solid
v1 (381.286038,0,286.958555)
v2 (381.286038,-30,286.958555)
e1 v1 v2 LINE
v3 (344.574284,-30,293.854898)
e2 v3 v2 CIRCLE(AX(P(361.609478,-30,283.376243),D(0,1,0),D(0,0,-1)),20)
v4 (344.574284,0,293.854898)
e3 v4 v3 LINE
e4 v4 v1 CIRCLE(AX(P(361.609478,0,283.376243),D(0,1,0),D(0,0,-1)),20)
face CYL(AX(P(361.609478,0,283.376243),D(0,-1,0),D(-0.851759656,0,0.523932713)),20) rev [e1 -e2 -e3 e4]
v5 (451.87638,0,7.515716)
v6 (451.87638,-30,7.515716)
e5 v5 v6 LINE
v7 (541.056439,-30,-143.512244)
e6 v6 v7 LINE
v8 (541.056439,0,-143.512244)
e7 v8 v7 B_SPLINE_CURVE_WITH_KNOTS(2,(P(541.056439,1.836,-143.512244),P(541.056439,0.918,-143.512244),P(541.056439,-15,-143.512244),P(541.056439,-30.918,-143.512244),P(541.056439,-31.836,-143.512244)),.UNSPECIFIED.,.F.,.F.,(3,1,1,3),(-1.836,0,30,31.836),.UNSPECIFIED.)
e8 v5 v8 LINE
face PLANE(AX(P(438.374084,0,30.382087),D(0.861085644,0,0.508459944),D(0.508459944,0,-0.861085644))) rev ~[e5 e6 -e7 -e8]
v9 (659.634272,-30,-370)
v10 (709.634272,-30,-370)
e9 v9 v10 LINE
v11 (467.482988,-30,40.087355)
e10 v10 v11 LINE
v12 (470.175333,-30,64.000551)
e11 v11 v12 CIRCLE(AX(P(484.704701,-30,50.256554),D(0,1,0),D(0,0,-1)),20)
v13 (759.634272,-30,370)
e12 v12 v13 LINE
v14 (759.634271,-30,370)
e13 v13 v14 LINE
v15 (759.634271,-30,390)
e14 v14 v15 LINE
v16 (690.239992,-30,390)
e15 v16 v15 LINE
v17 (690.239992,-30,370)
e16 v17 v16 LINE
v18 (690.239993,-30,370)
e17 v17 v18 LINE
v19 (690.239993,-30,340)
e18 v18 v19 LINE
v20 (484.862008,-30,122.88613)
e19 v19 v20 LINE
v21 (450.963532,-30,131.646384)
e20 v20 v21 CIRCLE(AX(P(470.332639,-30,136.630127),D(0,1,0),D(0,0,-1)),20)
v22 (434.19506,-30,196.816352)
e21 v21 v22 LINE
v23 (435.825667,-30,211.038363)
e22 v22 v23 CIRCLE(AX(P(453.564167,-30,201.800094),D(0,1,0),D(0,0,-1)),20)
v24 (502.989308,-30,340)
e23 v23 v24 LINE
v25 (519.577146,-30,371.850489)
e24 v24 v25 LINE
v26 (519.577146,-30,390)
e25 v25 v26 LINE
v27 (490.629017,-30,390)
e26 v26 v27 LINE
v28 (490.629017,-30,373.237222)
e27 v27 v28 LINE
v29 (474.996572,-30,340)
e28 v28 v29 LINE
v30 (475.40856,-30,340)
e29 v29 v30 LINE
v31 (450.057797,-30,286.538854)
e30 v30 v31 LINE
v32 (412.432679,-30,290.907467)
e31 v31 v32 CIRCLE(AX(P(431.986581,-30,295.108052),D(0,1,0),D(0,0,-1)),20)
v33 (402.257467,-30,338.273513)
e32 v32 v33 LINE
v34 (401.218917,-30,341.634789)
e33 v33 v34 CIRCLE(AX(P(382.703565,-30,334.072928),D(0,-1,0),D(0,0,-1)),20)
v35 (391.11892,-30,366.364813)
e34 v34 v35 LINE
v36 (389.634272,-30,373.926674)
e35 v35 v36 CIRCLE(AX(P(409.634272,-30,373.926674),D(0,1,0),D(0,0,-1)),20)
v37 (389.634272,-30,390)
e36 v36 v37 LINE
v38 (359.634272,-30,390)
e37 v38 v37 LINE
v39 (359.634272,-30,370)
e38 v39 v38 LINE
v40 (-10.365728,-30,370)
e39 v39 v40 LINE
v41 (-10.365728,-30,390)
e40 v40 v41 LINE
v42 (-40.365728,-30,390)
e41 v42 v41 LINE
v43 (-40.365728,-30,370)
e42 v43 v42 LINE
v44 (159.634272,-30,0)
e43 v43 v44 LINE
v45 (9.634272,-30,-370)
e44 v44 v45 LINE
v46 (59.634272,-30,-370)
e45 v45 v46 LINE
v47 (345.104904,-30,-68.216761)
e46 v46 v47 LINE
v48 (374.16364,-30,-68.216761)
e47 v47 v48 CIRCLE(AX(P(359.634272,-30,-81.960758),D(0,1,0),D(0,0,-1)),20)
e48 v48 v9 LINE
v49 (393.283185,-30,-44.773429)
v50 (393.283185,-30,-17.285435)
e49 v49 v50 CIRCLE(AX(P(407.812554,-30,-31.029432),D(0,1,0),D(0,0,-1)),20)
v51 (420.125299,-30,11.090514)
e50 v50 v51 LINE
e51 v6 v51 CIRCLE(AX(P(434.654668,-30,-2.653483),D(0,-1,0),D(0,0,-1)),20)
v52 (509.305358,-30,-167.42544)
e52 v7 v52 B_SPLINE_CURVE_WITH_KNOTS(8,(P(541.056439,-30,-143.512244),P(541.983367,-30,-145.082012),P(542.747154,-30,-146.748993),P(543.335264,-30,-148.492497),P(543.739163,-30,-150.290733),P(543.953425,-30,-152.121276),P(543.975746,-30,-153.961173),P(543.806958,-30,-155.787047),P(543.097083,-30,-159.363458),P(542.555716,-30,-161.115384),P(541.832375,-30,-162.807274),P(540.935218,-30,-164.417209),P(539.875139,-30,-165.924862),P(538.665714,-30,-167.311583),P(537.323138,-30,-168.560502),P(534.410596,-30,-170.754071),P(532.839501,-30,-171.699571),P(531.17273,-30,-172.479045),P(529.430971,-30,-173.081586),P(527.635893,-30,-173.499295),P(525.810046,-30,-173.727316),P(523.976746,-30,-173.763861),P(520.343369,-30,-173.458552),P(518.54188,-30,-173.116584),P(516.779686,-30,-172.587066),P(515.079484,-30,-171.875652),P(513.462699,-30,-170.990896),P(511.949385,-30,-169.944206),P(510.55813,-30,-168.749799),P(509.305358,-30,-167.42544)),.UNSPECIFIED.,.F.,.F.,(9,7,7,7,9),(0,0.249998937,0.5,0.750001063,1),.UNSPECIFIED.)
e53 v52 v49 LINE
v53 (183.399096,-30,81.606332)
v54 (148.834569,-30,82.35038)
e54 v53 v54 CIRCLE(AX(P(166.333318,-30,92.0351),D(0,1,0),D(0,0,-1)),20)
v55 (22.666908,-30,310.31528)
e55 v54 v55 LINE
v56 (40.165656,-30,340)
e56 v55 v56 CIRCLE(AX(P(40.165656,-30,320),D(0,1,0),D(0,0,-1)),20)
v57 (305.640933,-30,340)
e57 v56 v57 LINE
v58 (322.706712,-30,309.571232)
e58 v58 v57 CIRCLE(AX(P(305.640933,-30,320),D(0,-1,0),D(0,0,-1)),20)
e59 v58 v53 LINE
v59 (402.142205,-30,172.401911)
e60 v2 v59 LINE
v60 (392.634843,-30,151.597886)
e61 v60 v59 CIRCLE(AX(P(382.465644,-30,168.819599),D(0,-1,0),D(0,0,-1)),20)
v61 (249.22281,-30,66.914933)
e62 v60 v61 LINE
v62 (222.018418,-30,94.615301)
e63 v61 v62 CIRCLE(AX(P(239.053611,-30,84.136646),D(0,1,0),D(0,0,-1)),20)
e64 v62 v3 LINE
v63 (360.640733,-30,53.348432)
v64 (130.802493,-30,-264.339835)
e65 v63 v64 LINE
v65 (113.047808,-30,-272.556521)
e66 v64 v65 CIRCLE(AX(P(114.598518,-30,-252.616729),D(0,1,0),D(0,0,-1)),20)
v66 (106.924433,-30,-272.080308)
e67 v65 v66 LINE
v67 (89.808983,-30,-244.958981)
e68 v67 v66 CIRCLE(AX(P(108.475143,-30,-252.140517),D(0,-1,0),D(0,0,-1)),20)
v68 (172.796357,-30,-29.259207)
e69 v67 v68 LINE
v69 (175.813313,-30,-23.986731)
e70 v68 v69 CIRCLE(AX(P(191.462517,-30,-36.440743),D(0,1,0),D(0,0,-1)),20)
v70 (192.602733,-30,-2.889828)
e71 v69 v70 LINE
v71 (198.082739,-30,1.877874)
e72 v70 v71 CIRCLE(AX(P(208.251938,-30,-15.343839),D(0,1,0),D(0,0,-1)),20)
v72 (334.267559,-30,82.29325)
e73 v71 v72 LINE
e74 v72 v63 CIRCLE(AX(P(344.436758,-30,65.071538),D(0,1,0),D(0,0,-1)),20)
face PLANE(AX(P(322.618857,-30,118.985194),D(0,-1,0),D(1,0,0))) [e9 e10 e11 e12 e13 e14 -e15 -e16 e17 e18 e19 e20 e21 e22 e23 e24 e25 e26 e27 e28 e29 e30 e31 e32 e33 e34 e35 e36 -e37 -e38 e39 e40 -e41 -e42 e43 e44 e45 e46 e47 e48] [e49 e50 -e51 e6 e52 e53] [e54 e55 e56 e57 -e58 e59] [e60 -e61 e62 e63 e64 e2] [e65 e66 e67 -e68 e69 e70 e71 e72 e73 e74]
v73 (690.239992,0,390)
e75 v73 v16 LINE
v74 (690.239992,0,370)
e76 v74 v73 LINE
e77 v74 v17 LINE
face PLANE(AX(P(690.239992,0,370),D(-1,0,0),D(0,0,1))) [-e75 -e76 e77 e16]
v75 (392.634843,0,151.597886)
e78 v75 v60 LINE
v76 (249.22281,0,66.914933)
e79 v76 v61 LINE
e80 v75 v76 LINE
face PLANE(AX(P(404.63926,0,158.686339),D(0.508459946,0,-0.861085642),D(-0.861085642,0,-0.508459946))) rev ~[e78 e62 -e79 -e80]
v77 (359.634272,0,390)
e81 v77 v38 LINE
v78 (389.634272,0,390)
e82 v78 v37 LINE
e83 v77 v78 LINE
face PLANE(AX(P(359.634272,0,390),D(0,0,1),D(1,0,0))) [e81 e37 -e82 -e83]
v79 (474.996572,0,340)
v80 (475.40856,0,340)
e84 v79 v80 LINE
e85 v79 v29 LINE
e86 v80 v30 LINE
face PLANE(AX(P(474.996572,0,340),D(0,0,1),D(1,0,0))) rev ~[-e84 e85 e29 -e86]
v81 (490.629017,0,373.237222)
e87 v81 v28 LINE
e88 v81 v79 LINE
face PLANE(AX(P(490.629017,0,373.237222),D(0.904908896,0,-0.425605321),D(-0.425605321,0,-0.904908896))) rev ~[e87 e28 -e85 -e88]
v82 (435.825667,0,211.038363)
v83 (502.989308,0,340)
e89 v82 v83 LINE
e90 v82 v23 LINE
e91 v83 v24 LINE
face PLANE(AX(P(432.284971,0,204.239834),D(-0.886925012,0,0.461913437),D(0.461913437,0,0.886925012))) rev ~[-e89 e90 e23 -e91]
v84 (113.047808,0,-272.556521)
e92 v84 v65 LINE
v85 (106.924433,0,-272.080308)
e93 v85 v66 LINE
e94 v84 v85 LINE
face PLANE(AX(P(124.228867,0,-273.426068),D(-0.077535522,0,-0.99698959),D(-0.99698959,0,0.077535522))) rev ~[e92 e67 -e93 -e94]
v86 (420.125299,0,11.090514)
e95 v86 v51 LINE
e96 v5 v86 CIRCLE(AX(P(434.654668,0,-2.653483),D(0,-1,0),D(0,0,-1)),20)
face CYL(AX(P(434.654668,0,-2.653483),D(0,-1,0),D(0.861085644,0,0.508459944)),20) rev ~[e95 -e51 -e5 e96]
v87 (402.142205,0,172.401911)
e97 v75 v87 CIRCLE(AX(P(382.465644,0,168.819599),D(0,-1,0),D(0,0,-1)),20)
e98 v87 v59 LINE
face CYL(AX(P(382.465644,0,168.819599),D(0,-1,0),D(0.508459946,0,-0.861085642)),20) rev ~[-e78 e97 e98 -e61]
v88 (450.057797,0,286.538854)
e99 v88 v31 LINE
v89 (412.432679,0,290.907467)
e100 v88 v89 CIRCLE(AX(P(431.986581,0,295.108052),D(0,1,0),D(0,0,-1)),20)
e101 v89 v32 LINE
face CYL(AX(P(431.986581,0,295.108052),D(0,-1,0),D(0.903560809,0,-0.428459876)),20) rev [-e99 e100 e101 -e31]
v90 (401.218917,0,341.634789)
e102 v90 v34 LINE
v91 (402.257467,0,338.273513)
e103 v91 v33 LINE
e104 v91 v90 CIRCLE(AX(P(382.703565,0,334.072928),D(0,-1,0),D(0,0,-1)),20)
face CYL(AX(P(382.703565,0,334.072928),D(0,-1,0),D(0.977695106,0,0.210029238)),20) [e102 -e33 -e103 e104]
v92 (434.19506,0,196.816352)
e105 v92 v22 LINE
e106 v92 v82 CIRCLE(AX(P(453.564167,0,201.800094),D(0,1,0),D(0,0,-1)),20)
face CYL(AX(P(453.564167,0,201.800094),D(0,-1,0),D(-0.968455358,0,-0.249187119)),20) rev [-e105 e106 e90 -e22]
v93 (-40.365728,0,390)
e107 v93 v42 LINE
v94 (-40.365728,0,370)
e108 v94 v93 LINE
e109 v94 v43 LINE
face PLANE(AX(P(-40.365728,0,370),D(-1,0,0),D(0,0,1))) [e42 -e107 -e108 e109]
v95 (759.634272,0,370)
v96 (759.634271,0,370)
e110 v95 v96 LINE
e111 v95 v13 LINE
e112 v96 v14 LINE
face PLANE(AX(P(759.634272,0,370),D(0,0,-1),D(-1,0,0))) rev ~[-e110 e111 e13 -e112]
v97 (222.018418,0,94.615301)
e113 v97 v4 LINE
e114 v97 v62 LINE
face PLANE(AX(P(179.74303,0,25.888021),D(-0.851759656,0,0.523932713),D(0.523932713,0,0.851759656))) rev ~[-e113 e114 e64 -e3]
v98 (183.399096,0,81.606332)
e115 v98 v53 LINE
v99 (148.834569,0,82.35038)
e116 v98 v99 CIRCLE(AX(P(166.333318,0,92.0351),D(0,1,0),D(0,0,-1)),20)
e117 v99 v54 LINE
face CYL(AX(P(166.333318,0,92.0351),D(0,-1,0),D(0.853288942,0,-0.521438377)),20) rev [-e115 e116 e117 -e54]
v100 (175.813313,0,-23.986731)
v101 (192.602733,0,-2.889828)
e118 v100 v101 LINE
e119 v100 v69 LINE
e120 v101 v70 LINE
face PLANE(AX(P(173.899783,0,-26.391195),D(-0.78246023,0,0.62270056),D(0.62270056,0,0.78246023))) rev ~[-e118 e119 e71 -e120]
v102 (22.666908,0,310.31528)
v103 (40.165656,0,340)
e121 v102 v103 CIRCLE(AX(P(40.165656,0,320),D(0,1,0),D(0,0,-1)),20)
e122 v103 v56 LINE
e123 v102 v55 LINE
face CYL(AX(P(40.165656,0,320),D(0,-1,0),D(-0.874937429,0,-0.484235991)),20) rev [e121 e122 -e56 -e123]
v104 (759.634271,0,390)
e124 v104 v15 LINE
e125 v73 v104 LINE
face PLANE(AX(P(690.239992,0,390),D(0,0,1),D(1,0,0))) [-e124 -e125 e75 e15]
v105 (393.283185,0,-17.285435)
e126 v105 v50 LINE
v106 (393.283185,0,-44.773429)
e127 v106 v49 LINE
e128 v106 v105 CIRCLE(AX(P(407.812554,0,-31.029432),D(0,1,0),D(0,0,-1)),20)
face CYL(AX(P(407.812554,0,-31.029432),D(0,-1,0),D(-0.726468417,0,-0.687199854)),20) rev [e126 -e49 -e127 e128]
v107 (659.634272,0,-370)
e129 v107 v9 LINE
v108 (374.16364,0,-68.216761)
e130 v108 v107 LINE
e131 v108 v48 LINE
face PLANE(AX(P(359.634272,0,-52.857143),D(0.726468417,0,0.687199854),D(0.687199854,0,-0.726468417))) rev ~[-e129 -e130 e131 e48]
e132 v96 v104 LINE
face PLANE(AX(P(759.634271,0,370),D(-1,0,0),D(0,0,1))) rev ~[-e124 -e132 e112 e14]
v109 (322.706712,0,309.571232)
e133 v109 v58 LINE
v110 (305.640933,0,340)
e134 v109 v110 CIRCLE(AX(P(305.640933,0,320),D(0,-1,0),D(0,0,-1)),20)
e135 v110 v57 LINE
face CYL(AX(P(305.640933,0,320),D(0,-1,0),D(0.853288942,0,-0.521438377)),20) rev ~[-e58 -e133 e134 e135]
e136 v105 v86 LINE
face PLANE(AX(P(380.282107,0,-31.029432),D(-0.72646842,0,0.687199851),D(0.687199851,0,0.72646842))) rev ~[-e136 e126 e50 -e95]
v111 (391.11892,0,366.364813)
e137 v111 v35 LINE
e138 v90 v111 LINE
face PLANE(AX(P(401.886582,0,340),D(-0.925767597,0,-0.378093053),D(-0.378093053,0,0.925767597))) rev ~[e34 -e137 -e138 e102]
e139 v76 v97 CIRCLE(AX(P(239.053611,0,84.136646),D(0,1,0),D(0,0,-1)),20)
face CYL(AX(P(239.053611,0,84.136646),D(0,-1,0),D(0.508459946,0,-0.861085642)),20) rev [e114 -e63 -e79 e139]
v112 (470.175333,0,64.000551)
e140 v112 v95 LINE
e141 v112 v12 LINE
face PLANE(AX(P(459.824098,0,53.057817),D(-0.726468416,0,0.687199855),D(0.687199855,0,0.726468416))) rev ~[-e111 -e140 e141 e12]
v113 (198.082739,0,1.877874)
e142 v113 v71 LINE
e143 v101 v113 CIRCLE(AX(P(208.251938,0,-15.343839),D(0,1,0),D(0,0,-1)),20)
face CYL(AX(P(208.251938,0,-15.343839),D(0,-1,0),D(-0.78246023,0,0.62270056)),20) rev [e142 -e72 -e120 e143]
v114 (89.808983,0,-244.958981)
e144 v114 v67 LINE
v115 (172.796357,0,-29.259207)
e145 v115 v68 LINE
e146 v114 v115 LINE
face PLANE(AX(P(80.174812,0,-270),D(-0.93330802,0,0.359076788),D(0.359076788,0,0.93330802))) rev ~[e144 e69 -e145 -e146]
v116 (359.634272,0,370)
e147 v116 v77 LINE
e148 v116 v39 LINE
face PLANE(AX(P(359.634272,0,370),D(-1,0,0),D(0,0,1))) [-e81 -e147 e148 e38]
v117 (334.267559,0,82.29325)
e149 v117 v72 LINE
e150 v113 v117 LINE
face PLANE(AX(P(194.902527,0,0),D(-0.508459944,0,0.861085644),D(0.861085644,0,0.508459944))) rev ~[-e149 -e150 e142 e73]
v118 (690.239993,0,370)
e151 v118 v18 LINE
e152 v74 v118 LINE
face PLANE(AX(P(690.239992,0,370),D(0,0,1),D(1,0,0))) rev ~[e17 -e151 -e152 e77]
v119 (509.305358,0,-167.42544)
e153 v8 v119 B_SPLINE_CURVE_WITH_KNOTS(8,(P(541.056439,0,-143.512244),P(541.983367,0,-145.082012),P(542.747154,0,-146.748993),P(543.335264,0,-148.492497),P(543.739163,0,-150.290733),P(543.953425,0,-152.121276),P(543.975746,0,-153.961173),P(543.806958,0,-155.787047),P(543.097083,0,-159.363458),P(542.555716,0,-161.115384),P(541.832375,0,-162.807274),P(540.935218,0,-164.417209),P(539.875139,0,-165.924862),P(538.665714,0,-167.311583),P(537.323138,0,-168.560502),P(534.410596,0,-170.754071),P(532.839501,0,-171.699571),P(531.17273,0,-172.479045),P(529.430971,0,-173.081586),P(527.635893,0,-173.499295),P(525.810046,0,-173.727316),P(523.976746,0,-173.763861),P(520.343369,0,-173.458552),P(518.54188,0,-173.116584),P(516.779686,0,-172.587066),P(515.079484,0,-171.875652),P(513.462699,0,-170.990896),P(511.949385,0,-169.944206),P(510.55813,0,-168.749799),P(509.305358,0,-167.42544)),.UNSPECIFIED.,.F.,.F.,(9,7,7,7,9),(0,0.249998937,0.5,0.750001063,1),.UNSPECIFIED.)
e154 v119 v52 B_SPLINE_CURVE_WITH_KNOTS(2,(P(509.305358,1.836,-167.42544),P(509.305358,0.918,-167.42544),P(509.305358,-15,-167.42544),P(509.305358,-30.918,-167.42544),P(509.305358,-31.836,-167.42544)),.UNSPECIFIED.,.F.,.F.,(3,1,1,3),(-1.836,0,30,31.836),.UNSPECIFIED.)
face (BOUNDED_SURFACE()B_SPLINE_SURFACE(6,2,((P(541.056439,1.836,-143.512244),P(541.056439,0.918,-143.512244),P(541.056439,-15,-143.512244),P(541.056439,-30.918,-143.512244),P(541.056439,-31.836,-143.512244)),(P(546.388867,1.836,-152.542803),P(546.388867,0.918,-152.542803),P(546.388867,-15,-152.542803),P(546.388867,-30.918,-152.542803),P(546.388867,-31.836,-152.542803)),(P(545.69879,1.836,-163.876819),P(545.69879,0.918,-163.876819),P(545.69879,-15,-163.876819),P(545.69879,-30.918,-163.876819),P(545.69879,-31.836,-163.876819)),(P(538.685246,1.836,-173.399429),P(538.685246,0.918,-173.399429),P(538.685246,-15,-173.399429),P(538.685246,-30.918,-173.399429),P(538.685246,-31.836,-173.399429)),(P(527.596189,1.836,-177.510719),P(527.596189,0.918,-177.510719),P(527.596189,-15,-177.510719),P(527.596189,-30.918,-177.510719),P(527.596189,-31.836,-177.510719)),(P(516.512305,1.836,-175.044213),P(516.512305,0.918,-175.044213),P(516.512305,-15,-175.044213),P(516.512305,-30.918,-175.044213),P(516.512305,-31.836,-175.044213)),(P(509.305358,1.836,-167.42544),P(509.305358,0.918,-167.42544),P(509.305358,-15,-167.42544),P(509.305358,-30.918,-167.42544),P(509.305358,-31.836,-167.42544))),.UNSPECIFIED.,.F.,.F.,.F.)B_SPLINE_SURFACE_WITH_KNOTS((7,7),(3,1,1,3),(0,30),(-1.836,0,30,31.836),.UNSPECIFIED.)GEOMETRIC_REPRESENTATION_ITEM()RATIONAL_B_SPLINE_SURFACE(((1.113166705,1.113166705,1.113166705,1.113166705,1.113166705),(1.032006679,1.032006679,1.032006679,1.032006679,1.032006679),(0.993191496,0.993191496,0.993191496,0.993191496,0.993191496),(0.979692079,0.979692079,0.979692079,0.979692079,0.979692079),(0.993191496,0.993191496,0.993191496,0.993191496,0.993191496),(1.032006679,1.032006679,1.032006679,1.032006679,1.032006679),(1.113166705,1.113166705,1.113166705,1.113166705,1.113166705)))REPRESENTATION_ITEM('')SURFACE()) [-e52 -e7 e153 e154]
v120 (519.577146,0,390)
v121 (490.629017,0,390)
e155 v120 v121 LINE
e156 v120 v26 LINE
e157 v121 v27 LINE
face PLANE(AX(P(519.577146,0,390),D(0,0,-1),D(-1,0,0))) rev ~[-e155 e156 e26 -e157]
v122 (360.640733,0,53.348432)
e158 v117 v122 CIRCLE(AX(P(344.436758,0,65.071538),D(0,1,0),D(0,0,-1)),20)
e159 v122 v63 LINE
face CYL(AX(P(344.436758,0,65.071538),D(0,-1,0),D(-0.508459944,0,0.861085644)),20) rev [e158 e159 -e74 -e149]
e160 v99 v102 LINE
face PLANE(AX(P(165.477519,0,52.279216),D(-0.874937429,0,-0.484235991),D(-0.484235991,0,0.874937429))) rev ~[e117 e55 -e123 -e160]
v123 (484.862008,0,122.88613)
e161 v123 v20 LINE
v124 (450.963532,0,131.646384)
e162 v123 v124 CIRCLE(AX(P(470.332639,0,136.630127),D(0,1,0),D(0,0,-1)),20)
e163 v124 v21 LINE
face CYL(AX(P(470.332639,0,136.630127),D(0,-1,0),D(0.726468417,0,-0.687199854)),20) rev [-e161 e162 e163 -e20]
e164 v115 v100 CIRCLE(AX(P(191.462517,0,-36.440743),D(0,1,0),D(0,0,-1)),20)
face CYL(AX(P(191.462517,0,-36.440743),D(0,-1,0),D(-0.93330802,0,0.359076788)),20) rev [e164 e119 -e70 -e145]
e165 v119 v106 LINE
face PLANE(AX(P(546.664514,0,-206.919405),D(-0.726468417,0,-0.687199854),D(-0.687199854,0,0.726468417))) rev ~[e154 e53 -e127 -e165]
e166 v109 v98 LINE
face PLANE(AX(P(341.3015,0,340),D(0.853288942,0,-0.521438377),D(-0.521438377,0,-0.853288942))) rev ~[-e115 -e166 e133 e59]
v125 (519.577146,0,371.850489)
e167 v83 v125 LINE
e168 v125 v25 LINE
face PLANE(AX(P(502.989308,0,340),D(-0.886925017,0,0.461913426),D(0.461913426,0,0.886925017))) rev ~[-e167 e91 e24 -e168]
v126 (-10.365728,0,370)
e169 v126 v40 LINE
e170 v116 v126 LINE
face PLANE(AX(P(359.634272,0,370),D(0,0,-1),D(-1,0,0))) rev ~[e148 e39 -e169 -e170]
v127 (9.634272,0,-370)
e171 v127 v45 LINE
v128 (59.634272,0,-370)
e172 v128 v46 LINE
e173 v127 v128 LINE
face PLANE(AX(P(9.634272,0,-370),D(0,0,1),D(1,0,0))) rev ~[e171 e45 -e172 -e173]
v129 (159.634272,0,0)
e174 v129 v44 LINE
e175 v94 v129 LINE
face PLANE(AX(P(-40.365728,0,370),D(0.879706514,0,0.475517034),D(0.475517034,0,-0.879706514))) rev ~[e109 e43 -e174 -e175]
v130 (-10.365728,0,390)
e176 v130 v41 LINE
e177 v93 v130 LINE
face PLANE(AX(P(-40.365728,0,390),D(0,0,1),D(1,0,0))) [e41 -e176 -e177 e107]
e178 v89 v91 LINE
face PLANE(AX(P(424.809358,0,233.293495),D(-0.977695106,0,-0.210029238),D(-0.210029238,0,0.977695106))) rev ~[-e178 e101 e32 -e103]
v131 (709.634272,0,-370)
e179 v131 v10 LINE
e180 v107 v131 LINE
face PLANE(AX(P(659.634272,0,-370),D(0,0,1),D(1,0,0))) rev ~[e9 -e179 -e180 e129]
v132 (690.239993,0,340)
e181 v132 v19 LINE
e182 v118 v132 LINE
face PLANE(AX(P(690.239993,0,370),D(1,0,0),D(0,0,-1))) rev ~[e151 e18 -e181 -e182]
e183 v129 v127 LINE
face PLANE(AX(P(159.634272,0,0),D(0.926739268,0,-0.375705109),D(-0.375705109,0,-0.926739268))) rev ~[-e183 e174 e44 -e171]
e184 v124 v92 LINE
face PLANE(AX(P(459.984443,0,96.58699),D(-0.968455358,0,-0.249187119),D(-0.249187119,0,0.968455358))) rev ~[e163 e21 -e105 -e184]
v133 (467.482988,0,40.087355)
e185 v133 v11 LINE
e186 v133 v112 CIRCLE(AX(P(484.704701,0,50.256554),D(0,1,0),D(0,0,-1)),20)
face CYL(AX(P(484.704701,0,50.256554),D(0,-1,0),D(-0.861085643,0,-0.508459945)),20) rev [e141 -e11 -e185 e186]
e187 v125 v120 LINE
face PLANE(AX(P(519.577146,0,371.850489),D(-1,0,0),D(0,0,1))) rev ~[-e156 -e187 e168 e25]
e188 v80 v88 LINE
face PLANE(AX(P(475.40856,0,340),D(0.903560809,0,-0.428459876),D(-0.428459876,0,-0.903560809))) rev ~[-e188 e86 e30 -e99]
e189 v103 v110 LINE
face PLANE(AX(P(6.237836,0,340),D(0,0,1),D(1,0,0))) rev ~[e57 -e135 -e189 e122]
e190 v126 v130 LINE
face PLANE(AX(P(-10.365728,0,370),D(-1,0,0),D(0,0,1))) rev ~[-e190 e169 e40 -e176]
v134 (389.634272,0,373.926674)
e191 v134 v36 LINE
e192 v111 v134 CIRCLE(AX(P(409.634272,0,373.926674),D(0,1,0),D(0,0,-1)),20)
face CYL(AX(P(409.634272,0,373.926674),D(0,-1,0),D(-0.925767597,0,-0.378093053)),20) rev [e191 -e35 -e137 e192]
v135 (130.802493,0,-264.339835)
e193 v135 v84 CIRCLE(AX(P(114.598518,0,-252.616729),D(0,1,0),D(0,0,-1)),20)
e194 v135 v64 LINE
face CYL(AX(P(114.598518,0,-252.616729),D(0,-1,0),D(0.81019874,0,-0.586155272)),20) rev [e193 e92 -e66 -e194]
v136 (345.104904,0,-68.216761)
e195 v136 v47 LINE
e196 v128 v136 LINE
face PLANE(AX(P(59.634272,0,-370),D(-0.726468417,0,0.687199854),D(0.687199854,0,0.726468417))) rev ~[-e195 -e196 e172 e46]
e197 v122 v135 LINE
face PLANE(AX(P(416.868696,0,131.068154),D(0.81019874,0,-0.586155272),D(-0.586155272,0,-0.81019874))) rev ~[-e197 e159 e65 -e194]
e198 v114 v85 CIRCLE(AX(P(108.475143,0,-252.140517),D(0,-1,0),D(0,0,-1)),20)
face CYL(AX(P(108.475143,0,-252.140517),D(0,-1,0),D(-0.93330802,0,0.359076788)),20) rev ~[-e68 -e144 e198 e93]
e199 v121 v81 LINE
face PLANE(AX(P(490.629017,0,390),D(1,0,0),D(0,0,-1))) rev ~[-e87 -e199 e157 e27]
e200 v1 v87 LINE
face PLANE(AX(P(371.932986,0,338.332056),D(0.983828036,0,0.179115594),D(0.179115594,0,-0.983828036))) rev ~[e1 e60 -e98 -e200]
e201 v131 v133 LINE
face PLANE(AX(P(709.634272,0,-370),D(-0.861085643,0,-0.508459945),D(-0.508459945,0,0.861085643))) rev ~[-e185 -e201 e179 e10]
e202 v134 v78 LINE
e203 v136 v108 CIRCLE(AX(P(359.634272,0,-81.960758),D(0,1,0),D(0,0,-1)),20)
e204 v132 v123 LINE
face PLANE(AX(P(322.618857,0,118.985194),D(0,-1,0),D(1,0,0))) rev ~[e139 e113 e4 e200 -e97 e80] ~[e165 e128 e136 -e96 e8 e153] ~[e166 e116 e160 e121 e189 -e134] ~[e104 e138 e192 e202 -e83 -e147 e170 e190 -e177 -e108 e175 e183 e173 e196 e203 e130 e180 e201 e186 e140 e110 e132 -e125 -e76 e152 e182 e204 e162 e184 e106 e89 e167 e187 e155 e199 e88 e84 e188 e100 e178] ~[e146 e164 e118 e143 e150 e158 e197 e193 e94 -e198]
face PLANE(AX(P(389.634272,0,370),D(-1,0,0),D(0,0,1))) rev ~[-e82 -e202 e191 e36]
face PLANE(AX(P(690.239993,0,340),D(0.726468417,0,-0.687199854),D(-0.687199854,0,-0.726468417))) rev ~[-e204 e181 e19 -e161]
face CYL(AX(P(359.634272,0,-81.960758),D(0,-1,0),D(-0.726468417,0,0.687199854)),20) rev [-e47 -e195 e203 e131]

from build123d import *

# Parameters (mm, degrees)
F0_W     = 30
F0_H     = 20
F0_W_2   = 69.394279
F1_DEPTH = 30
F2_R     = 20


with BuildPart() as f1:
    # F0 (on Front) → F1 (new body)
    with BuildSketch(Plane.XZ):
        Polygon((159.634272, 0), (9.634272, -370), (59.634272, -370), (359.634272, -52.857143), (380.282107, -31.029432), (359.634272, -9.20172), (359.634272, 0), (419.442074, 58.0528), (425.315722, 52.496647), (438.374084, 30.382087), (459.824098, 53.057817), (759.634272, 370), (690.239993, 370), (690.239993, 340), (459.984443, 96.58699), (432.284971, 204.239834), (502.989308, 340), (475.40856, 340), (424.809358, 233.293495), (401.886582, 340), (389.634272, 370), (359.634272, 370), (-10.365728, 370), (-40.365728, 370), align=None)
        Polygon((173.899783, -26.391195), (194.902527, 0), (416.868696, 131.068154), (124.228867, -273.426068), (80.174812, -270), align=None, mode=Mode.SUBTRACT)
        Polygon((165.477519, 52.279216), (6.237836, 340), (341.3015, 340), align=None, mode=Mode.SUBTRACT)
        Polygon((179.74303, 25.888021), (371.932986, 338.332056), (404.63926, 158.686339), align=None, mode=Mode.SUBTRACT)
        Polygon((490.629017, 373.237222), (474.996572, 340), (475.40856, 340), (502.989308, 340), (519.577146, 371.850489), align=None)
        Polygon((490.629017, 390), (490.629017, 373.237222), (519.577146, 371.850489), (519.577146, 390), align=None)
        with Locations((374.634272, 380)):
            Rectangle(F0_W, F0_H)
        with Locations((724.937132, 380)):
            Rectangle(F0_W_2, F0_H)
        with Locations((-25.365728, 380)):
            Rectangle(F0_W, F0_H)
        Polygon((380.282107, -31.029432), (359.634272, -52.857143), (659.634272, -370), (709.634272, -370), (459.824098, 53.057817), (438.374084, 30.382087), (617.768873, -273.426068), (546.664514, -206.919405), align=None)
        Polygon((359.634272, -9.20172), (380.282107, -31.029432), (438.374084, 30.382087), (425.315722, 52.496647), (419.442074, 58.0528), (359.634272, 0), align=None)
    extrude(amount=F1_DEPTH)

    # F2
    f2_edges = [f1.edges().sort_by_distance(p)[0] for p in [
        (173.899783, -15, -26.391195),
        (194.902527, -15, 0),
        (416.868696, -15, 131.068154),
        (124.228867, -15, -273.426068),
        (80.174812, -15, -270),
        (179.74303, -15, 25.888021),
        (432.284971, -15, 204.239834),
        (459.984443, -15, 96.58699),
        (424.809358, -15, 233.293495),
        (371.932986, -15, 338.332056),
        (165.477519, -15, 52.279216),
        (6.237836, -15, 340),
        (341.3015, -15, 340),
        (404.63926, -15, 158.686339),
        (617.768873, -15, -273.426068),
        (438.374084, -15, 30.382087),
        (380.282107, -15, -31.029432),
        (359.634272, -15, -52.857143),
        (459.824098, -15, 53.057817),
        (401.886582, -15, 340),
        (389.634272, -15, 370),
    ]]
    fillet(f2_edges, radius=F2_R)


solid = f1.part
